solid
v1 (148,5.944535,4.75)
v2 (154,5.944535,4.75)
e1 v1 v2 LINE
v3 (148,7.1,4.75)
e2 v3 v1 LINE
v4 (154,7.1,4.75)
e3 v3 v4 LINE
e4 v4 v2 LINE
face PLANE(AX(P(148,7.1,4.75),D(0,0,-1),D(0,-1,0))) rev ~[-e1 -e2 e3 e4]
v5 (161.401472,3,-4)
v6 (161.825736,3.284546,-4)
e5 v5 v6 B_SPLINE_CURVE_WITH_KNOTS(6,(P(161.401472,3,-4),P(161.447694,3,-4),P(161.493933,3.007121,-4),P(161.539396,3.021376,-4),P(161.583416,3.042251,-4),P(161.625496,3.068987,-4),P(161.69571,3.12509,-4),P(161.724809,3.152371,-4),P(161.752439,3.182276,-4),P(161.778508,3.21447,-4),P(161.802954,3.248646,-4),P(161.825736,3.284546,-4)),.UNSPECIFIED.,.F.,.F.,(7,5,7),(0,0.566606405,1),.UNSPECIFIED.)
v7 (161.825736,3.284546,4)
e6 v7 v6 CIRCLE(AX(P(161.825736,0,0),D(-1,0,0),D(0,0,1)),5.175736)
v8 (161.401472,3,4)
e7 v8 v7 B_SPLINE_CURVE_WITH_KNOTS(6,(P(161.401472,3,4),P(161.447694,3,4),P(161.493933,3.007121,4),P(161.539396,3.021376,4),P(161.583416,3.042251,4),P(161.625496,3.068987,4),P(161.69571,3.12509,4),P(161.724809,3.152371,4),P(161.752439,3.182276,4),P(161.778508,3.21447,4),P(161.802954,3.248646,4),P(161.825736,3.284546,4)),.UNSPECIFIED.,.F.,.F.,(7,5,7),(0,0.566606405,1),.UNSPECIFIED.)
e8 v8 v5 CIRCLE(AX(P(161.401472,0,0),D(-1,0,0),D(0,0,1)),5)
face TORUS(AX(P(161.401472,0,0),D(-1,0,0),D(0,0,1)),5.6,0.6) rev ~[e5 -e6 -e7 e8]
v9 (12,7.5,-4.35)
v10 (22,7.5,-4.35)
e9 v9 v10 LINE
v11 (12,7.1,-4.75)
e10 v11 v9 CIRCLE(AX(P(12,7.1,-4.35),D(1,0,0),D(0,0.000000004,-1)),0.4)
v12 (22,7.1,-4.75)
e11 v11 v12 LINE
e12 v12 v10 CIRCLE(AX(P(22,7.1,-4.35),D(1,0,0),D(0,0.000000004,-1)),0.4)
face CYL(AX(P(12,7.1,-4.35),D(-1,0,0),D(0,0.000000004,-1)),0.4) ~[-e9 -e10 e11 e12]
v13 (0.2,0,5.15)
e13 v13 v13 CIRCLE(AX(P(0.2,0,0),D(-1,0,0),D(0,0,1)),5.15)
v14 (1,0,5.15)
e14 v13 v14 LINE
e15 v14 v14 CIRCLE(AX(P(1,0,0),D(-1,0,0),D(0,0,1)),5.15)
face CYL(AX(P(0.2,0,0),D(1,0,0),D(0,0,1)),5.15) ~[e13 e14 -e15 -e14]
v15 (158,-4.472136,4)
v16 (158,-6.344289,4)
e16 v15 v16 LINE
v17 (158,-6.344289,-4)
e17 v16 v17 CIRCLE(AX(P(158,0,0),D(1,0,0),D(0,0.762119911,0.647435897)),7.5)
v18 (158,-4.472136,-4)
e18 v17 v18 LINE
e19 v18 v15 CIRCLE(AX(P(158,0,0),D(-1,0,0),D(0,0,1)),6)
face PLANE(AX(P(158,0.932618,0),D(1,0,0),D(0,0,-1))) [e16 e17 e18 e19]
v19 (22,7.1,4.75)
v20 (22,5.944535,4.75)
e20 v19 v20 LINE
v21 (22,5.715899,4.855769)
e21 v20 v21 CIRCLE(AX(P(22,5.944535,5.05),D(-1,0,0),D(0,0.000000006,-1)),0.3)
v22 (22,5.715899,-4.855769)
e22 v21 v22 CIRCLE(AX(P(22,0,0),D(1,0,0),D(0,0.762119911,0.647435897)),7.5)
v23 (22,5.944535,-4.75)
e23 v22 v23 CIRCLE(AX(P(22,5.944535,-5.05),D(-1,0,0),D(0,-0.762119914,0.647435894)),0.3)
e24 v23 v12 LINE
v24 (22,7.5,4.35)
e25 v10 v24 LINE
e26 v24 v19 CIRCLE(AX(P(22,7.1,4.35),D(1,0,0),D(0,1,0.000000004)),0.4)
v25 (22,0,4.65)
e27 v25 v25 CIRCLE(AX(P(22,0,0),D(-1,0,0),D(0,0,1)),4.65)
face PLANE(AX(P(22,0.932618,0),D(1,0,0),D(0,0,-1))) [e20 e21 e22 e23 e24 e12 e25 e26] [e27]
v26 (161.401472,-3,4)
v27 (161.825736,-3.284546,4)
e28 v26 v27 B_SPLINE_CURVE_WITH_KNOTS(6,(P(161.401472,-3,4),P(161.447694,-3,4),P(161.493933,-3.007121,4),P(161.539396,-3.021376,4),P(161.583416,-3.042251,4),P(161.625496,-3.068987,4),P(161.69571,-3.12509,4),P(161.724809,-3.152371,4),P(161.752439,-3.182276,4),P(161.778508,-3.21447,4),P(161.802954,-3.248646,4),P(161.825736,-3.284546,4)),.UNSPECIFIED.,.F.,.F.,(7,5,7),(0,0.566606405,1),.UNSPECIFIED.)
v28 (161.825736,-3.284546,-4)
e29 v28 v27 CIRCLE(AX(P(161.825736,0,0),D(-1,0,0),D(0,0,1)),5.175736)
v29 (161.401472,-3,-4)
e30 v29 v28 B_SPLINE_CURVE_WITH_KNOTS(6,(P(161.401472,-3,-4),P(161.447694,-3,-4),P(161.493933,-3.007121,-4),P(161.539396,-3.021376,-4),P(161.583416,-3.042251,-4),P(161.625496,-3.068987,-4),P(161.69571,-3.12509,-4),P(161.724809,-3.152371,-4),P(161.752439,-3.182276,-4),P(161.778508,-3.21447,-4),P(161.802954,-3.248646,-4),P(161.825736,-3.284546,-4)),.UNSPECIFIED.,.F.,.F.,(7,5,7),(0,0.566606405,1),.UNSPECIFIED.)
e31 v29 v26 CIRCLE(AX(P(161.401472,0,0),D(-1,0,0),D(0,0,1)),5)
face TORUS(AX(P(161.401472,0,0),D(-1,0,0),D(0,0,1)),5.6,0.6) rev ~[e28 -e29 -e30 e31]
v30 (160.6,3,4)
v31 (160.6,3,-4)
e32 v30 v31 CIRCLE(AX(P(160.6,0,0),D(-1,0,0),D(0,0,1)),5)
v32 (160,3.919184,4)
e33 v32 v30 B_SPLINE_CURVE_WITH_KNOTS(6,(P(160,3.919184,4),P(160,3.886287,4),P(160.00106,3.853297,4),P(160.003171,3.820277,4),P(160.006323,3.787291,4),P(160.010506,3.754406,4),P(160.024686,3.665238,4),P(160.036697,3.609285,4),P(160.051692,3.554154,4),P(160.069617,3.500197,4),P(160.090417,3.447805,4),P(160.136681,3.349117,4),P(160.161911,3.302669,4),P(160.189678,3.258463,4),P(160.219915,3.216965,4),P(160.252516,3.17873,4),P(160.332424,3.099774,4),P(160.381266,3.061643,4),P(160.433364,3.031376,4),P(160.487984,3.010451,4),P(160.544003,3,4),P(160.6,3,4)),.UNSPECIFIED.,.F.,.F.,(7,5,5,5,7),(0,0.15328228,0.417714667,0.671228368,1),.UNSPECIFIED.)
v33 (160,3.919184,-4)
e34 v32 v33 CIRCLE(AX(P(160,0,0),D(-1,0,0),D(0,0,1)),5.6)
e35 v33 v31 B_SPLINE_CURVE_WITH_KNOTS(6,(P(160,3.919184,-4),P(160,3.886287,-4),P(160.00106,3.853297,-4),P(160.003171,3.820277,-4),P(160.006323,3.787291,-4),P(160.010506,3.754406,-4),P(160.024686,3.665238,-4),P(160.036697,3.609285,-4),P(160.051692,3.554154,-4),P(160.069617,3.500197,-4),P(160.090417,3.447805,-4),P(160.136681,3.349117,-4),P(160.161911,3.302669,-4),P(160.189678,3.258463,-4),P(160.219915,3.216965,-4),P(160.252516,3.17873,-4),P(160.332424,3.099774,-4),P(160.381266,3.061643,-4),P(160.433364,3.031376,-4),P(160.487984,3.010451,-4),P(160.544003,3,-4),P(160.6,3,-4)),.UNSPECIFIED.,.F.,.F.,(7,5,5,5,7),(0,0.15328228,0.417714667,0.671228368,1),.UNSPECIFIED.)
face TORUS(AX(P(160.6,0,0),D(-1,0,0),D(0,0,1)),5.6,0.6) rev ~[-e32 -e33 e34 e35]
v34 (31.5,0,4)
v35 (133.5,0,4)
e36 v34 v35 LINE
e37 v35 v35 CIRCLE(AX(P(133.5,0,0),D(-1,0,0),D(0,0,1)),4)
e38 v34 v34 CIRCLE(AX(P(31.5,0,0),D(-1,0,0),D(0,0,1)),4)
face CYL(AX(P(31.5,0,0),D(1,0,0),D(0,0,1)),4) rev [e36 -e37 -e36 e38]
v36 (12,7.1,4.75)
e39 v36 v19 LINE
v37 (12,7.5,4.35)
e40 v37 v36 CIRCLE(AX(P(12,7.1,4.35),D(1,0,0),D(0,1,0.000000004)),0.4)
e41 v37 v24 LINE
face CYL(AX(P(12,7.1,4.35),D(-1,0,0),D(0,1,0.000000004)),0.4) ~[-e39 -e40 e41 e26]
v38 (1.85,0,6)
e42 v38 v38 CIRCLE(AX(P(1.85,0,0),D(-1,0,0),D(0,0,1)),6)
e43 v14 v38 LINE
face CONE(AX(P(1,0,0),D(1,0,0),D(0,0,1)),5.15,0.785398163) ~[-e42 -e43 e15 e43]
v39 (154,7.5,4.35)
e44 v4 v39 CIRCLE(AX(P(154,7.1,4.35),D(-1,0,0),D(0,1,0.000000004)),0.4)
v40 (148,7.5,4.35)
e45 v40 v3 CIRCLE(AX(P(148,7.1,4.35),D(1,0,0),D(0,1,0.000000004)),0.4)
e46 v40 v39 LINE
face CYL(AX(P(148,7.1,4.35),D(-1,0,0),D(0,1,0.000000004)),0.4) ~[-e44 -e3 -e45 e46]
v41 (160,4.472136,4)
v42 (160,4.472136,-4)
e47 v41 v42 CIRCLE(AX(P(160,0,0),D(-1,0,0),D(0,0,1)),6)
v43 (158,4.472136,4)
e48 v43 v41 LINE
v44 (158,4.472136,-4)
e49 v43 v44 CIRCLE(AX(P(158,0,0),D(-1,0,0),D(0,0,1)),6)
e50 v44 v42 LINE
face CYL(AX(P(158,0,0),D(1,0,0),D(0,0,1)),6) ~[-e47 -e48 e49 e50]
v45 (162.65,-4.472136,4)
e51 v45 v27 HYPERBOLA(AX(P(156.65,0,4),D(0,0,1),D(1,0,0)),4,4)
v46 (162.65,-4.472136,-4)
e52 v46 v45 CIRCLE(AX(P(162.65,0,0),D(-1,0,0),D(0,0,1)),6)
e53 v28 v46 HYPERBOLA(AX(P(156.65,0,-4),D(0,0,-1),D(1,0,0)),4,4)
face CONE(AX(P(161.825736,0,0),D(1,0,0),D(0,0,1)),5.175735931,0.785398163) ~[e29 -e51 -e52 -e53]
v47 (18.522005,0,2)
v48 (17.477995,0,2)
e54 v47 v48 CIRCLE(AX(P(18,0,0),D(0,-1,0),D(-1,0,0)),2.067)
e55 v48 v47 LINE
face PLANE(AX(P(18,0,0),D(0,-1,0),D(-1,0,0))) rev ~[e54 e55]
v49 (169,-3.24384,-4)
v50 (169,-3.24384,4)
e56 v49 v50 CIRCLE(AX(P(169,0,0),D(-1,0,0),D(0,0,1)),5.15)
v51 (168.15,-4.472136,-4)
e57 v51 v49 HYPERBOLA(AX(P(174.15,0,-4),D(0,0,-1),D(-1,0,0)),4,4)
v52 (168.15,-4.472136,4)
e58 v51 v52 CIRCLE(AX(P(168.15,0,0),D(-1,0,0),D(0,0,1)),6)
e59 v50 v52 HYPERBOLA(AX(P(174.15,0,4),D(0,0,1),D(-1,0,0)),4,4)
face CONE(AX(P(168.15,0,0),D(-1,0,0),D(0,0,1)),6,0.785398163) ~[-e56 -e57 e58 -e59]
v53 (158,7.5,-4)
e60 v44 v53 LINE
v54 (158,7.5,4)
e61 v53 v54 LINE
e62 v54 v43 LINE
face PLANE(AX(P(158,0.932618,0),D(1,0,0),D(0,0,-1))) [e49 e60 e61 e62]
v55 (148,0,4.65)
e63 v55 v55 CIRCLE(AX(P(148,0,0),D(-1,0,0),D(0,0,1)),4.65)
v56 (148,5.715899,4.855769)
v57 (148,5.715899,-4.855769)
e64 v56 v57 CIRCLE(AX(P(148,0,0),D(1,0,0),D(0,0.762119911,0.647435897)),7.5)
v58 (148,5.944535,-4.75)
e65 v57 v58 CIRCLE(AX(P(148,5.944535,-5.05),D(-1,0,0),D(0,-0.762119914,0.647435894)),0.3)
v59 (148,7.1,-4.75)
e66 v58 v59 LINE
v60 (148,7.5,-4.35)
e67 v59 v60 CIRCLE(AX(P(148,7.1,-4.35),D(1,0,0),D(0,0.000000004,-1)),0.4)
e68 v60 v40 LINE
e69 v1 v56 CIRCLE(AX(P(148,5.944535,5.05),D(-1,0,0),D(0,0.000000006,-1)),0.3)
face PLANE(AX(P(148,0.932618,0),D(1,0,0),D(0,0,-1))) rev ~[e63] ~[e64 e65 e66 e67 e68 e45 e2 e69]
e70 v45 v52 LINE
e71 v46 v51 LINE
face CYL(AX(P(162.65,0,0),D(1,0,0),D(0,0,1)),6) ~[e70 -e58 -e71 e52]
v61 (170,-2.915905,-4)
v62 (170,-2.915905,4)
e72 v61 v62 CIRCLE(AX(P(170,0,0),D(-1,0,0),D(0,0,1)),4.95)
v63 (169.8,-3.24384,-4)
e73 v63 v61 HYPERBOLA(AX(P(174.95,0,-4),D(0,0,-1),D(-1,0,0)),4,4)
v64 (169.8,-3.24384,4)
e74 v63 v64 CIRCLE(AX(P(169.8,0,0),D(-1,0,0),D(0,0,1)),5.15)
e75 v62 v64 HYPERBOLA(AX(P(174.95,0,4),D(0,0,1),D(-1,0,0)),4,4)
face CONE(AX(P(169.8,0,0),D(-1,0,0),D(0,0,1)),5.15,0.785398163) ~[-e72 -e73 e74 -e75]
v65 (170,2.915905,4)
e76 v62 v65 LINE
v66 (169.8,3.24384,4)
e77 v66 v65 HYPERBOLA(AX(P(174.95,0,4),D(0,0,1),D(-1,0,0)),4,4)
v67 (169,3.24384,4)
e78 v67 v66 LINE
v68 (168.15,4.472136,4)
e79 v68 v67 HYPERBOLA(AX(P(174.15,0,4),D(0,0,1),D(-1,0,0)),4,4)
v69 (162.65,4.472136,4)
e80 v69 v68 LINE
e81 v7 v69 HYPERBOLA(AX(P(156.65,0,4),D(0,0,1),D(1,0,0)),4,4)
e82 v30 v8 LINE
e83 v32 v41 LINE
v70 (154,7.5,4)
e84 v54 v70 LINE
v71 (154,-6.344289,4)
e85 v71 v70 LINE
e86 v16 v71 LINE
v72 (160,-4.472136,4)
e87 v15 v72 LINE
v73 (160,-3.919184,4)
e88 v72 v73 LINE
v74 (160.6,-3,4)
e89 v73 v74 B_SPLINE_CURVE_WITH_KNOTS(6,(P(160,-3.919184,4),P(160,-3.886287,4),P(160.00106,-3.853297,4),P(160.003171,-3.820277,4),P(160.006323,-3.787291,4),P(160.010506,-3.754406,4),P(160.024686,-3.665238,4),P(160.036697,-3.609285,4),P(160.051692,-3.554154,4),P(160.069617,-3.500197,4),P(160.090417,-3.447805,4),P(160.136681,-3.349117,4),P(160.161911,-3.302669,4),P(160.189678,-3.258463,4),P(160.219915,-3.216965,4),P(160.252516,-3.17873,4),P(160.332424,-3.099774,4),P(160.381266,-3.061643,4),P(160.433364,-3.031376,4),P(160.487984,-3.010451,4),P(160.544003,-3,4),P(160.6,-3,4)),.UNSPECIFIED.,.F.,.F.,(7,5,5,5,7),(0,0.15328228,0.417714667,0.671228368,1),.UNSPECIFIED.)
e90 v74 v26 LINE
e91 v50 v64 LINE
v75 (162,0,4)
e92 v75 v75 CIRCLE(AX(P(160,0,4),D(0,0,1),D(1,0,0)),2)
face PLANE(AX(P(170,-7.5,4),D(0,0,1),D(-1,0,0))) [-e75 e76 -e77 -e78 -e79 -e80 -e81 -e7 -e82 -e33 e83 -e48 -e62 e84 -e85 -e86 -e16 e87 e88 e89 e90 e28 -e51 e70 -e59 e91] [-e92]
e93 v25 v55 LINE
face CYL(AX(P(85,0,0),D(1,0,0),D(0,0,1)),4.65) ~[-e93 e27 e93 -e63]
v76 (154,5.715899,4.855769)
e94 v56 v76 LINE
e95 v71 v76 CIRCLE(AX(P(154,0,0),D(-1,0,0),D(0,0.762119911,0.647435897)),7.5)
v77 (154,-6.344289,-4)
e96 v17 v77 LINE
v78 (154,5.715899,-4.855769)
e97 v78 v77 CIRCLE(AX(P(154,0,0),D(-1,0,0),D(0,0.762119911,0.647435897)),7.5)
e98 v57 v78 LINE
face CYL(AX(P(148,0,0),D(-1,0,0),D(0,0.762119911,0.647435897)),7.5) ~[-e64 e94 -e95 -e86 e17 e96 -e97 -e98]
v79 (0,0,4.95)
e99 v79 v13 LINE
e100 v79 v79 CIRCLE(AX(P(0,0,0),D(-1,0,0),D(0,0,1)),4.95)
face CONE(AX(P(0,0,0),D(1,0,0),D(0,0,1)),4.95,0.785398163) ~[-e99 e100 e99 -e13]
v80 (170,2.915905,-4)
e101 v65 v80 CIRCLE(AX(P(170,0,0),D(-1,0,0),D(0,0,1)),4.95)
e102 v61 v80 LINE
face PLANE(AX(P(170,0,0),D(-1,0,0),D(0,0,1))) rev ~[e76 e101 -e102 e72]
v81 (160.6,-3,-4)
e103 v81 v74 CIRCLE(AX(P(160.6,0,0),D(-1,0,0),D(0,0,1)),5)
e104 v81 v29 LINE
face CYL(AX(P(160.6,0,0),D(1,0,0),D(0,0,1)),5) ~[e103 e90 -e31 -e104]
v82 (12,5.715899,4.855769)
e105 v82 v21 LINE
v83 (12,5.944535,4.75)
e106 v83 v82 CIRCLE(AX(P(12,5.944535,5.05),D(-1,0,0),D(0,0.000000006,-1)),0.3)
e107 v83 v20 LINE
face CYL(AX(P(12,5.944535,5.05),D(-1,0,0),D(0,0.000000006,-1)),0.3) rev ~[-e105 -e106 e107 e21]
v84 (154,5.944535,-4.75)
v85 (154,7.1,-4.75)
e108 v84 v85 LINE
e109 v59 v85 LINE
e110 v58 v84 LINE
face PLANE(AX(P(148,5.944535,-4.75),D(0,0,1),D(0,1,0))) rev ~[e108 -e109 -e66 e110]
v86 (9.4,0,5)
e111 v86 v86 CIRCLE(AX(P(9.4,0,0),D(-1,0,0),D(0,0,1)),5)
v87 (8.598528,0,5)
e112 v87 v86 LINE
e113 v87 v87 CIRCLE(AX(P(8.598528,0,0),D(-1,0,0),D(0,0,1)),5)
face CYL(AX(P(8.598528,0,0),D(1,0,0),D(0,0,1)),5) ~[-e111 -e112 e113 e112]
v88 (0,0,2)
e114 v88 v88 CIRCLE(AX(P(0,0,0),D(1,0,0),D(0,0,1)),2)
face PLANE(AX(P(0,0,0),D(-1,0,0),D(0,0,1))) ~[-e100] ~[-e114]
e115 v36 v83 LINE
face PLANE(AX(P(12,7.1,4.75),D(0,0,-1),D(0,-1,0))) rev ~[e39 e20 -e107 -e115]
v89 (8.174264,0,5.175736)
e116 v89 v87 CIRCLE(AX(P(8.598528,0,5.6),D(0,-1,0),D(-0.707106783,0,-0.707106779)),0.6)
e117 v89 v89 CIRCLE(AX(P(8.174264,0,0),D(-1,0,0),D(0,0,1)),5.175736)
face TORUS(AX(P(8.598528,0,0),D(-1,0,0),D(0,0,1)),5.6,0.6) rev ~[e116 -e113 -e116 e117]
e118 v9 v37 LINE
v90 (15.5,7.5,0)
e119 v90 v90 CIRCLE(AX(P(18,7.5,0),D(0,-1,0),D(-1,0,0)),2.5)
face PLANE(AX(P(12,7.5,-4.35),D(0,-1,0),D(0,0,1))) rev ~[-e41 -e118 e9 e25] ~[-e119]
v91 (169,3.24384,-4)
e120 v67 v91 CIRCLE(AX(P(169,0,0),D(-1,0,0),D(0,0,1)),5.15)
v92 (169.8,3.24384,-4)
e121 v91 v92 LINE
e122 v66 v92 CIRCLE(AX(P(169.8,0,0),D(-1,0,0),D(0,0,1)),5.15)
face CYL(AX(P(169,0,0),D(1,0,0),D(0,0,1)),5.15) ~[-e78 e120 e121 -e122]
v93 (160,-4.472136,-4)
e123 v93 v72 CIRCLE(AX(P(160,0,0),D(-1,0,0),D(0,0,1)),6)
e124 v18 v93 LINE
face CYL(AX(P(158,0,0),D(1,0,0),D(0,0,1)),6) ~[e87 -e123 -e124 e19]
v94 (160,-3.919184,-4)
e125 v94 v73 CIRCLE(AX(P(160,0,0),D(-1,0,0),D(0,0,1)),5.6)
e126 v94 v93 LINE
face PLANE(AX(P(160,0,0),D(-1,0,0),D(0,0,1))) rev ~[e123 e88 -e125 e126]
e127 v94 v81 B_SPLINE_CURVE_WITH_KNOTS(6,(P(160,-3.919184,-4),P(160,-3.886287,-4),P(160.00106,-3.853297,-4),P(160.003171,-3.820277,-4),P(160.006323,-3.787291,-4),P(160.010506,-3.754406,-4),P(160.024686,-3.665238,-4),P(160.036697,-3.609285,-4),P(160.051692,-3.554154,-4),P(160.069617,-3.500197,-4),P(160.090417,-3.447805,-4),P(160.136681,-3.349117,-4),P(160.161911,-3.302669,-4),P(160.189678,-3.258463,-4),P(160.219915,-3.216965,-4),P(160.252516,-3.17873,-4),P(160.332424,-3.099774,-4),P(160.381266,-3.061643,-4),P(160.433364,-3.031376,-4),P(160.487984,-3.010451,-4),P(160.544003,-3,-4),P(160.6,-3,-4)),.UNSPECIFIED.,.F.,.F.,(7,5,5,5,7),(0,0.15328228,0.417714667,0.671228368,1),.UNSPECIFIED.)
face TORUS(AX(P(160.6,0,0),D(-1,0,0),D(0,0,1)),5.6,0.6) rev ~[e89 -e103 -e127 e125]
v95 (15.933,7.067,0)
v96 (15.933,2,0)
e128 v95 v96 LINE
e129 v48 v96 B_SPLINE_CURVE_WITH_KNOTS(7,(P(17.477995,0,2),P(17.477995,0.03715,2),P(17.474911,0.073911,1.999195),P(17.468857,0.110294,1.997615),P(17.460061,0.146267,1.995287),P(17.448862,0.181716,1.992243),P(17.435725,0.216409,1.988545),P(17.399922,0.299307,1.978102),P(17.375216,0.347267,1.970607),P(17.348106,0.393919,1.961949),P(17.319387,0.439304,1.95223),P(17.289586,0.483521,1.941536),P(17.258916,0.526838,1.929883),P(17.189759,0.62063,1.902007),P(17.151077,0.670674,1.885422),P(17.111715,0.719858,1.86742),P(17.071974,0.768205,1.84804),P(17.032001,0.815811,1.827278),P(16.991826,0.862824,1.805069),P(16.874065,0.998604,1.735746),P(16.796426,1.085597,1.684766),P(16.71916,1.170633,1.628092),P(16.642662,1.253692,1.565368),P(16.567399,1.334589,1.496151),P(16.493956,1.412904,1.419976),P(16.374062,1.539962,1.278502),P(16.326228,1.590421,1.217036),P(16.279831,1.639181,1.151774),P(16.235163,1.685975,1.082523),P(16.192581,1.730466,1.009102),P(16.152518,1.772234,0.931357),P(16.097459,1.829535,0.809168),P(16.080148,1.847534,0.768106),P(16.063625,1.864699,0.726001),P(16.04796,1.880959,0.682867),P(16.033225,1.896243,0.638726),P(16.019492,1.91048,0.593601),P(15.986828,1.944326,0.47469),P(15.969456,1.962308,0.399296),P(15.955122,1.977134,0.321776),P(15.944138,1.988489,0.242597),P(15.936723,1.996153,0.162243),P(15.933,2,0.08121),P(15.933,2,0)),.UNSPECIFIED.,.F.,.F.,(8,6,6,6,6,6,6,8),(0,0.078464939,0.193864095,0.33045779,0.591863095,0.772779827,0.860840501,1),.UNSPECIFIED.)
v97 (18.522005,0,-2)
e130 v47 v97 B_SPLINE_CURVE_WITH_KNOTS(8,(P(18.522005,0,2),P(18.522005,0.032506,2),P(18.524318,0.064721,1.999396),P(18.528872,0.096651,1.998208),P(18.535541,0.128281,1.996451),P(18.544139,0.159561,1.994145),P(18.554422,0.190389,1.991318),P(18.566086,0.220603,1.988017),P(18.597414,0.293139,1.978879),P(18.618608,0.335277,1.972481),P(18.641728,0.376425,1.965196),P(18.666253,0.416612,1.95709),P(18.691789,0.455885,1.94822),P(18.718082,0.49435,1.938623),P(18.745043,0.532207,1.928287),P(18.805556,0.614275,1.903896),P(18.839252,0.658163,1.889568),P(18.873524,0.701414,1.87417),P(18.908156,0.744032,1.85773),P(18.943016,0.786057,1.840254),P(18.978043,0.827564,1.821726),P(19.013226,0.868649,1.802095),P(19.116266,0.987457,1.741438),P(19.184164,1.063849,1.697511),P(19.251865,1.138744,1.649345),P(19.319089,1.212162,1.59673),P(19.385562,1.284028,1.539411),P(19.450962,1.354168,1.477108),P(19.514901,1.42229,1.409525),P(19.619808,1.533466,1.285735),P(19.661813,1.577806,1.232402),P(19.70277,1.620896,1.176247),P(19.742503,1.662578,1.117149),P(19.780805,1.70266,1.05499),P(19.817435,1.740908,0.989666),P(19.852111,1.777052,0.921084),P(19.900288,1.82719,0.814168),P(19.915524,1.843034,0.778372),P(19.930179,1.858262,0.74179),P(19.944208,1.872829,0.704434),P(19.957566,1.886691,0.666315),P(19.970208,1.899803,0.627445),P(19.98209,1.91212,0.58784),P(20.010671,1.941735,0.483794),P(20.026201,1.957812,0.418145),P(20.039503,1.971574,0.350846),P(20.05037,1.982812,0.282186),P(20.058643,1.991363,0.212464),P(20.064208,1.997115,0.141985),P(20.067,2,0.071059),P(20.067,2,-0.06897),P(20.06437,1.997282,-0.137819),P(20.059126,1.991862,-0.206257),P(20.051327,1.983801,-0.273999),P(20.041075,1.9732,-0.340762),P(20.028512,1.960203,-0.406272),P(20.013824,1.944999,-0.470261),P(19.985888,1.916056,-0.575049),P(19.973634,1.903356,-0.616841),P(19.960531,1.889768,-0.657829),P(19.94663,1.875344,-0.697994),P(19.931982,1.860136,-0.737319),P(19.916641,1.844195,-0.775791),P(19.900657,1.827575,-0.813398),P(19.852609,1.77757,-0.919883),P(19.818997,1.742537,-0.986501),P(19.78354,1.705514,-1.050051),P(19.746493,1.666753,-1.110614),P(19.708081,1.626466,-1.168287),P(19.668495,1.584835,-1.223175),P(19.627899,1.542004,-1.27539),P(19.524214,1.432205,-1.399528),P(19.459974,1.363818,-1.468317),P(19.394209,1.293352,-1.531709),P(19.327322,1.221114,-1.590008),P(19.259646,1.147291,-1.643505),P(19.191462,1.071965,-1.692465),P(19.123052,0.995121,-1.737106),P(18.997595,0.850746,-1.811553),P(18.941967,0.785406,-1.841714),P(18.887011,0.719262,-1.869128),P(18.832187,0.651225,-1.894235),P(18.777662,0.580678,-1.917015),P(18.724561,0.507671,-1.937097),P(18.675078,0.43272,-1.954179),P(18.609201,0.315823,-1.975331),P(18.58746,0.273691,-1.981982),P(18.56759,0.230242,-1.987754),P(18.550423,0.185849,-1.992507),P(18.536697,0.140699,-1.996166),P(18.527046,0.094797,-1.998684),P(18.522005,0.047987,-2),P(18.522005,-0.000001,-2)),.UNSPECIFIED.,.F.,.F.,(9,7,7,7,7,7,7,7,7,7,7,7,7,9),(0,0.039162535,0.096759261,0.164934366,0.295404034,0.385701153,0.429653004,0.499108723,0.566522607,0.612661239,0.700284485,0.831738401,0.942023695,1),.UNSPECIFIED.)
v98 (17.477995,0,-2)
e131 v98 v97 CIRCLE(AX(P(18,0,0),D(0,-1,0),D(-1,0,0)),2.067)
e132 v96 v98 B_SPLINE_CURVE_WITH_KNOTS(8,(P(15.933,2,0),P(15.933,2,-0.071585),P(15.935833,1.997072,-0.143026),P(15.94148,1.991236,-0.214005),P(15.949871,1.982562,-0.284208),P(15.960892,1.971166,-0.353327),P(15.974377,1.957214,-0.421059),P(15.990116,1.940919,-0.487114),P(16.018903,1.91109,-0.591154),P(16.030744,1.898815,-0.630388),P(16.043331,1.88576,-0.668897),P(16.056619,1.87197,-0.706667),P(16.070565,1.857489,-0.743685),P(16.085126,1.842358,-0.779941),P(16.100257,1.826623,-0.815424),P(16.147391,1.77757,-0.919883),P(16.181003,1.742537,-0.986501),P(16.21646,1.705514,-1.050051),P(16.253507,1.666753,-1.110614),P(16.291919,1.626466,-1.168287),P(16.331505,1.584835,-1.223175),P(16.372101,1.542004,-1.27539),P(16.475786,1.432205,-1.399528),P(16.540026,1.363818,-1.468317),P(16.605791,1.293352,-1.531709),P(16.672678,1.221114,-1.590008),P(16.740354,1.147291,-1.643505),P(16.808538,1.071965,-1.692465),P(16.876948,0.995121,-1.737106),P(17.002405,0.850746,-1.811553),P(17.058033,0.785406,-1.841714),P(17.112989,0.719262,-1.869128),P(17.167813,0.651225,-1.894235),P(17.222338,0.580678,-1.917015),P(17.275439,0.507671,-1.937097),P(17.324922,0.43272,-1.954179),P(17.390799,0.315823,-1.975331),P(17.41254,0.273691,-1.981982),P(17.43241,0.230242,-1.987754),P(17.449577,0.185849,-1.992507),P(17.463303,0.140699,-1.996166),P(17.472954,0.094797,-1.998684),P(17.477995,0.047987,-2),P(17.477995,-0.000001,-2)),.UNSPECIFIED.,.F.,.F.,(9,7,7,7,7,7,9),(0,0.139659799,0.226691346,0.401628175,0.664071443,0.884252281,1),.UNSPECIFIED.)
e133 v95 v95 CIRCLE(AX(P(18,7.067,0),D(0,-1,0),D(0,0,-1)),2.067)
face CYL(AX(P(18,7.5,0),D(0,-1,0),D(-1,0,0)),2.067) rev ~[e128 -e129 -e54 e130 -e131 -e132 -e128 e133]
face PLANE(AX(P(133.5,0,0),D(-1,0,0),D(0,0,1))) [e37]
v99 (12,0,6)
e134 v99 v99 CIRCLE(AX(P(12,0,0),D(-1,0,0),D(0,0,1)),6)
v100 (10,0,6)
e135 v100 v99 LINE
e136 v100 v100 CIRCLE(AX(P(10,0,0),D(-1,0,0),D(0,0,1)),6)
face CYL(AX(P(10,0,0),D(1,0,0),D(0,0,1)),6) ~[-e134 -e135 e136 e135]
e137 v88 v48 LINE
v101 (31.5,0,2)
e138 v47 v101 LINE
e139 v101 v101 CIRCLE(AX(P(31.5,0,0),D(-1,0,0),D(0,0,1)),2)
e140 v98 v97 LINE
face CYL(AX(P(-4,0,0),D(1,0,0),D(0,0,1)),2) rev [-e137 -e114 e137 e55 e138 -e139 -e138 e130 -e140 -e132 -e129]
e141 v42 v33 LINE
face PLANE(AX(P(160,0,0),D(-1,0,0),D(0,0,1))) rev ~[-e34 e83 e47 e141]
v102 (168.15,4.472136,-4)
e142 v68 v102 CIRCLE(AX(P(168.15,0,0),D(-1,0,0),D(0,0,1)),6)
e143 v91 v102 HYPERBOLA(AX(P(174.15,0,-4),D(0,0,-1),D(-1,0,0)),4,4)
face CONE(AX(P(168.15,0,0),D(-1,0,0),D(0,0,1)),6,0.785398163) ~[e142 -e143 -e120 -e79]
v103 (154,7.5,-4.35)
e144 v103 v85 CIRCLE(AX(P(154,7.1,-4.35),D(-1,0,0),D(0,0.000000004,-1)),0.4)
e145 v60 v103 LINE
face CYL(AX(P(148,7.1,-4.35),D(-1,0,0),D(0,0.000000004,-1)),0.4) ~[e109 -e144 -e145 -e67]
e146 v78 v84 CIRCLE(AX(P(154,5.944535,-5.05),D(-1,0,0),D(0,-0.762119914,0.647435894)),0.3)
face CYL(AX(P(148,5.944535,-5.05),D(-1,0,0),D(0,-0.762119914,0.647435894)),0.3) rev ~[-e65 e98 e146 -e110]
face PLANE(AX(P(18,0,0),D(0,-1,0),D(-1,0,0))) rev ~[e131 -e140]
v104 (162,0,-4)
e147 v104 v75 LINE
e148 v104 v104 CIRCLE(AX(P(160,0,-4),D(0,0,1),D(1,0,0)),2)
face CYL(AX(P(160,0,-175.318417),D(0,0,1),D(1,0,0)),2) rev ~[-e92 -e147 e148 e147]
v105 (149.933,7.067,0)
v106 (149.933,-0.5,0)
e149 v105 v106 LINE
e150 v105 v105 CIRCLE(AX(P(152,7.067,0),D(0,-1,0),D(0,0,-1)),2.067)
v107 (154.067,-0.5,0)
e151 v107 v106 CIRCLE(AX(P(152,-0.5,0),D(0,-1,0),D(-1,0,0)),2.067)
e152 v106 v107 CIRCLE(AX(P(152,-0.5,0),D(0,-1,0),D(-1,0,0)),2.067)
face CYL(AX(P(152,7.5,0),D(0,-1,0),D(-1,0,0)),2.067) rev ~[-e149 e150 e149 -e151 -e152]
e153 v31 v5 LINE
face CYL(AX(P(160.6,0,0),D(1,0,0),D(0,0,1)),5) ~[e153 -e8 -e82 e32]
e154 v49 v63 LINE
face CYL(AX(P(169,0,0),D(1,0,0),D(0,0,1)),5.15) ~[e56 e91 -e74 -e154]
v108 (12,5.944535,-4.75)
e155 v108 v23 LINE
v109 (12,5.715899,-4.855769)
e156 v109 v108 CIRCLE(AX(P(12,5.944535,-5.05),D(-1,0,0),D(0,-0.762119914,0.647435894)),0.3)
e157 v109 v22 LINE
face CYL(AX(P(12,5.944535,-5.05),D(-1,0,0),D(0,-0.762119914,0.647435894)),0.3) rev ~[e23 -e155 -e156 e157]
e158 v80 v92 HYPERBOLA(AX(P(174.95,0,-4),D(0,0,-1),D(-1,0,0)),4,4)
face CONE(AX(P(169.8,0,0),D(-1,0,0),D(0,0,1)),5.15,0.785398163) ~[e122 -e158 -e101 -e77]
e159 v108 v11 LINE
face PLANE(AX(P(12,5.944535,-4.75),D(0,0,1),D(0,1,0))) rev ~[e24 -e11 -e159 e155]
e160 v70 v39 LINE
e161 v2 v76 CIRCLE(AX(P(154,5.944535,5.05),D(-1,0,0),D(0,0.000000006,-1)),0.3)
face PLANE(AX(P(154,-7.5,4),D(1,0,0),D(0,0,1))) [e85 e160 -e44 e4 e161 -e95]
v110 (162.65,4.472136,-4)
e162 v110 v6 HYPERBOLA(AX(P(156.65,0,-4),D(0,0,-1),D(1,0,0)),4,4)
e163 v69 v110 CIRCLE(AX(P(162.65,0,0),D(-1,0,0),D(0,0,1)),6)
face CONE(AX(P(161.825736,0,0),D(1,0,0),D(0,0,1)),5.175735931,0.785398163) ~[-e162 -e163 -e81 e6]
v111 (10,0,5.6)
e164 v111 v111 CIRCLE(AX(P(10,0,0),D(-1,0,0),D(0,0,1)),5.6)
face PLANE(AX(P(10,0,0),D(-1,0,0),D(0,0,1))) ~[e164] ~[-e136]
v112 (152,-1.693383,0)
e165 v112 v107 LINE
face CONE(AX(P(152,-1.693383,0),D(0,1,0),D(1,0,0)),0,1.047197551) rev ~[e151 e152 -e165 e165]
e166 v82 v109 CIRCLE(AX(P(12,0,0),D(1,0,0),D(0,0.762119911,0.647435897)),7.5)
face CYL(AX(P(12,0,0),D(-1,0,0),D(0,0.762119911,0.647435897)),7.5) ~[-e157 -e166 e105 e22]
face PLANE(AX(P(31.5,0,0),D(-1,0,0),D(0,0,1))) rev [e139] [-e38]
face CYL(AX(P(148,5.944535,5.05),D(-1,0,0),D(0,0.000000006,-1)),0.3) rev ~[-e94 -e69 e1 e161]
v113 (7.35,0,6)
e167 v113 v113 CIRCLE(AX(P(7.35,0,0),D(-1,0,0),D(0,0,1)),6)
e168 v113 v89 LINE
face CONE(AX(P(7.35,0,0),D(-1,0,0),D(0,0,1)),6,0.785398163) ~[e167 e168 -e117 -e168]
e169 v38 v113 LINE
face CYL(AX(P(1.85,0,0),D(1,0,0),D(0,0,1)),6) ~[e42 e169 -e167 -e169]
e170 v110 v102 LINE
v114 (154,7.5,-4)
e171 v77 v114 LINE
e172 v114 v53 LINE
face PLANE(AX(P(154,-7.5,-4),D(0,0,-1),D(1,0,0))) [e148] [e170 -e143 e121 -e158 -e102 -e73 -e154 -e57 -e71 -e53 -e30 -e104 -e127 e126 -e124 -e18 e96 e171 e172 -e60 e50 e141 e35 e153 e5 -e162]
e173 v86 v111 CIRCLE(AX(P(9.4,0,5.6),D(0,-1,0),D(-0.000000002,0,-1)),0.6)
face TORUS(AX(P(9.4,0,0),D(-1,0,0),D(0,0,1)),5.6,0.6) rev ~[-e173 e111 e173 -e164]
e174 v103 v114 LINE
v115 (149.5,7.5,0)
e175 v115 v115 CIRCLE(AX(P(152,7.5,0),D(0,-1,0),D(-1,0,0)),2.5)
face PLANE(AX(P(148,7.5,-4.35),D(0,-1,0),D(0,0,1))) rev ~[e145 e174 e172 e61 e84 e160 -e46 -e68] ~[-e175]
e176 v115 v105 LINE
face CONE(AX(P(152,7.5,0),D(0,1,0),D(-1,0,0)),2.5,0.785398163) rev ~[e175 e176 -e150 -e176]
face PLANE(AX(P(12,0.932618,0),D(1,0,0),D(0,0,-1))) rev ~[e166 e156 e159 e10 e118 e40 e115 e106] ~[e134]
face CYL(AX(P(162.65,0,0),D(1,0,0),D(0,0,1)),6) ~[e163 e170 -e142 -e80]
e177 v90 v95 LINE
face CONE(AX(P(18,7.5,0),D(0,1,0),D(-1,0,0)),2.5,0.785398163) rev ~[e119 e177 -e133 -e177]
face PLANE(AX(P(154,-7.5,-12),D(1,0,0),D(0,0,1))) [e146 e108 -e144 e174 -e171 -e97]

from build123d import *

# Parameters (mm, degrees)
AUFSATZ_LINEAR_AUSTRAGEN1_DEPTH      = 10
SKIZZE3_W                            = 126
SKIZZE3_H                            = 4.65
AUFSATZ_LINEAR_AUSTRAGEN2_DEPTH      = 10
SCHNITT_LINEAR_AUSTRAGEN1_DEPTH      = 7.5
SCHNITT_LINEAR_AUSTRAGEN1_DEPTH_BACK = 7.5
BOHRUNG1_D                           = 4
BOHRUNG2_D                           = 4.134
BOHRUNG2_DEPTH                       = 7.5
BOHRUNG2_CSINK_D                     = 5
BOHRUNG2_CSINK_ANGLE                 = 90
BOHRUNG3_D                           = 4.134
BOHRUNG3_DEPTH                       = 8
BOHRUNG3_CSINK_D                     = 5
BOHRUNG3_CSINK_ANGLE                 = 90
BOHRUNG3_TIP                         = 1.193383006


with BuildPart() as part:
    # Skizze1 → Rotation1 (revolve)
    with BuildSketch(Plane.XY):
        with BuildLine():
            Line((0, 0), (0, 4.95))
            Line((0, 4.95), (0.2, 5.15))
            Line((0.2, 5.15), (1, 5.15))
            Line((1, 5.15), (1.85, 6))
            Line((1.85, 6), (7.35, 6))
            Line((7.35, 6), (8.174264069, 5.175735931))
            ThreePointArc((8.174264069, 5.175735931), (8.368918078, 5.04567228), (8.598528137, 5))
            Line((8.598528137, 5), (9.4, 5))
            ThreePointArc((9.4, 5), (9.824264069, 5.175735931), (10, 5.6))
            Line((10, 5.6), (10, 6))
            Line((10, 6), (12, 6))
            Line((12, 6), (12, 0))
            Line((12, 0), (0, 0))
        make_face()
    revolve(axis=Axis((12, 0, 0), (-1, 0, 0)))

    # Skizze2 → Aufsatz-Linear austragen1 (add)
    with BuildSketch(Plane(origin=(12, 0, 0), x_dir=(0, 0, -1), z_dir=(1, 0, 0))):
        with BuildLine():
            Line((4.75, 5.944535306), (4.75, 7.1))
            ThreePointArc((4.75, 7.1), (4.632842712, 7.382842712), (4.35, 7.5))
            Line((4.35, 7.5), (-4.35, 7.5))
            ThreePointArc((-4.35, 7.5), (-4.632842712, 7.382842712), (-4.75, 7.1))
            Line((-4.75, 7.1), (-4.75, 5.944535306))
            ThreePointArc((-4.75, 5.944535306), (-4.777723274, 5.818577437), (-4.855769231, 5.715899332))
            ThreePointArc((-4.855769231, 5.715899332), (0, -7.5), (4.855769231, 5.715899332))
            ThreePointArc((4.855769231, 5.715899332), (4.777723274, 5.818577437), (4.75, 5.944535306))
        make_face()
    extrude(amount=AUFSATZ_LINEAR_AUSTRAGEN1_DEPTH)

    # Skizze3 → Rotation2 (revolve)
    with BuildSketch(Plane.XY):
        with Locations((85, 2.325)):
            Rectangle(SKIZZE3_W, SKIZZE3_H)
    revolve(axis=Axis((148, 0, 0), (-1, 0, 0)))

    # Skizze4 → Aufsatz-Linear austragen2 (add)
    with BuildSketch(Plane(origin=(148, 0, 0), x_dir=(0, 0, -1), z_dir=(1, 0, 0))):
        with BuildLine():
            Line((4.75, 5.944535306), (4.75, 7.1))
            ThreePointArc((4.75, 7.1), (4.632842712, 7.382842712), (4.35, 7.5))
            Line((4.35, 7.5), (-4.35, 7.5))
            ThreePointArc((-4.35, 7.5), (-4.632842712, 7.382842712), (-4.75, 7.1))
            Line((-4.75, 7.1), (-4.75, 5.944535306))
            ThreePointArc((-4.75, 5.944535306), (-4.777723274, 5.818577437), (-4.855769231, 5.715899332))
            ThreePointArc((-4.855769231, 5.715899332), (0, -7.5), (4.855769231, 5.715899332))
            ThreePointArc((4.855769231, 5.715899332), (4.777723274, 5.818577437), (4.75, 5.944535306))
        make_face()
    extrude(amount=AUFSATZ_LINEAR_AUSTRAGEN2_DEPTH)

    # Skizze5 → Rotation3 (revolve)
    with BuildSketch(Plane.XY):
        with BuildLine():
            Line((158, 0), (158, 6))
            Line((158, 6), (160, 6))
            Line((160, 6), (160, 5.6))
            ThreePointArc((160, 5.6), (160.175735931, 5.175735931), (160.6, 5))
            Line((160.6, 5), (161.401471863, 5))
            ThreePointArc((161.401471863, 5), (161.631081922, 5.04567228), (161.825735931, 5.175735931))
            Line((161.825735931, 5.175735931), (162.65, 6))
            Line((162.65, 6), (168.15, 6))
            Line((168.15, 6), (169, 5.15))
            Line((169, 5.15), (169.8, 5.15))
            Line((169.8, 5.15), (170, 4.95))
            Line((170, 4.95), (170, 0))
            Line((170, 0), (158, 0))
        make_face()
    revolve(axis=Axis((170, 0, 0), (-1, 0, 0)))

    # Skizze6 → Schnitt-Linear austragen1 (cut, two sides: drawn at the far end of the back side and taken through both)
    with BuildSketch(Plane(origin=(0, 0, 0), x_dir=(1, 0, 0), z_dir=(0, 1, 0)).offset(-SCHNITT_LINEAR_AUSTRAGEN1_DEPTH_BACK)):
        Polygon((154, 12), (154, 4), (170, 4), (170, -4), (154, -4), (154, -12), (178, -12), (178, 12), align=None)
    extrude(amount=SCHNITT_LINEAR_AUSTRAGEN1_DEPTH + SCHNITT_LINEAR_AUSTRAGEN1_DEPTH_BACK, mode=Mode.SUBTRACT)

    # Bohrung1 (through all)
    with Locations(Plane(origin=(0, 0, -4), x_dir=(-1, 0, 0), z_dir=(0, 0, -1))):
        with Locations((-160, 0)):
            Hole(BOHRUNG1_D / 2)

    # Bohrung2
    with Locations(Plane(origin=(0, 7.5, 0), x_dir=(1, 0, 0), z_dir=(0, 1, 0))):
        with Locations((18, 0)):
            CounterSinkHole(BOHRUNG2_D / 2, BOHRUNG2_CSINK_D / 2, depth=BOHRUNG2_DEPTH, counter_sink_angle=BOHRUNG2_CSINK_ANGLE)

    # Bohrung3
    with Locations(Plane(origin=(0, 7.5, 0), x_dir=(1, 0, 0), z_dir=(0, 1, 0))):
        with Locations((152, 0)):
            CounterSinkHole(BOHRUNG3_D / 2, BOHRUNG3_CSINK_D / 2, depth=BOHRUNG3_DEPTH, counter_sink_angle=BOHRUNG3_CSINK_ANGLE)
            with Locations((0, 0, -(BOHRUNG3_DEPTH + BOHRUNG3_TIP / 2))):  # 120° drill point
                Cone(0, BOHRUNG3_D / 2, BOHRUNG3_TIP, mode=Mode.SUBTRACT)

    # Skizze13 → Schnitt-Rotation1 (revolve, cut)
    with BuildSketch(Plane.XY):
        Polygon((-4, 0), (-4, 2), (31.5, 2), (31.5, 4), (133.5, 4), (133.5, 0), align=None)
    revolve(axis=Axis((133.5, 0, 0), (-1, 0, 0)), mode=Mode.SUBTRACT)


solid = part.part
